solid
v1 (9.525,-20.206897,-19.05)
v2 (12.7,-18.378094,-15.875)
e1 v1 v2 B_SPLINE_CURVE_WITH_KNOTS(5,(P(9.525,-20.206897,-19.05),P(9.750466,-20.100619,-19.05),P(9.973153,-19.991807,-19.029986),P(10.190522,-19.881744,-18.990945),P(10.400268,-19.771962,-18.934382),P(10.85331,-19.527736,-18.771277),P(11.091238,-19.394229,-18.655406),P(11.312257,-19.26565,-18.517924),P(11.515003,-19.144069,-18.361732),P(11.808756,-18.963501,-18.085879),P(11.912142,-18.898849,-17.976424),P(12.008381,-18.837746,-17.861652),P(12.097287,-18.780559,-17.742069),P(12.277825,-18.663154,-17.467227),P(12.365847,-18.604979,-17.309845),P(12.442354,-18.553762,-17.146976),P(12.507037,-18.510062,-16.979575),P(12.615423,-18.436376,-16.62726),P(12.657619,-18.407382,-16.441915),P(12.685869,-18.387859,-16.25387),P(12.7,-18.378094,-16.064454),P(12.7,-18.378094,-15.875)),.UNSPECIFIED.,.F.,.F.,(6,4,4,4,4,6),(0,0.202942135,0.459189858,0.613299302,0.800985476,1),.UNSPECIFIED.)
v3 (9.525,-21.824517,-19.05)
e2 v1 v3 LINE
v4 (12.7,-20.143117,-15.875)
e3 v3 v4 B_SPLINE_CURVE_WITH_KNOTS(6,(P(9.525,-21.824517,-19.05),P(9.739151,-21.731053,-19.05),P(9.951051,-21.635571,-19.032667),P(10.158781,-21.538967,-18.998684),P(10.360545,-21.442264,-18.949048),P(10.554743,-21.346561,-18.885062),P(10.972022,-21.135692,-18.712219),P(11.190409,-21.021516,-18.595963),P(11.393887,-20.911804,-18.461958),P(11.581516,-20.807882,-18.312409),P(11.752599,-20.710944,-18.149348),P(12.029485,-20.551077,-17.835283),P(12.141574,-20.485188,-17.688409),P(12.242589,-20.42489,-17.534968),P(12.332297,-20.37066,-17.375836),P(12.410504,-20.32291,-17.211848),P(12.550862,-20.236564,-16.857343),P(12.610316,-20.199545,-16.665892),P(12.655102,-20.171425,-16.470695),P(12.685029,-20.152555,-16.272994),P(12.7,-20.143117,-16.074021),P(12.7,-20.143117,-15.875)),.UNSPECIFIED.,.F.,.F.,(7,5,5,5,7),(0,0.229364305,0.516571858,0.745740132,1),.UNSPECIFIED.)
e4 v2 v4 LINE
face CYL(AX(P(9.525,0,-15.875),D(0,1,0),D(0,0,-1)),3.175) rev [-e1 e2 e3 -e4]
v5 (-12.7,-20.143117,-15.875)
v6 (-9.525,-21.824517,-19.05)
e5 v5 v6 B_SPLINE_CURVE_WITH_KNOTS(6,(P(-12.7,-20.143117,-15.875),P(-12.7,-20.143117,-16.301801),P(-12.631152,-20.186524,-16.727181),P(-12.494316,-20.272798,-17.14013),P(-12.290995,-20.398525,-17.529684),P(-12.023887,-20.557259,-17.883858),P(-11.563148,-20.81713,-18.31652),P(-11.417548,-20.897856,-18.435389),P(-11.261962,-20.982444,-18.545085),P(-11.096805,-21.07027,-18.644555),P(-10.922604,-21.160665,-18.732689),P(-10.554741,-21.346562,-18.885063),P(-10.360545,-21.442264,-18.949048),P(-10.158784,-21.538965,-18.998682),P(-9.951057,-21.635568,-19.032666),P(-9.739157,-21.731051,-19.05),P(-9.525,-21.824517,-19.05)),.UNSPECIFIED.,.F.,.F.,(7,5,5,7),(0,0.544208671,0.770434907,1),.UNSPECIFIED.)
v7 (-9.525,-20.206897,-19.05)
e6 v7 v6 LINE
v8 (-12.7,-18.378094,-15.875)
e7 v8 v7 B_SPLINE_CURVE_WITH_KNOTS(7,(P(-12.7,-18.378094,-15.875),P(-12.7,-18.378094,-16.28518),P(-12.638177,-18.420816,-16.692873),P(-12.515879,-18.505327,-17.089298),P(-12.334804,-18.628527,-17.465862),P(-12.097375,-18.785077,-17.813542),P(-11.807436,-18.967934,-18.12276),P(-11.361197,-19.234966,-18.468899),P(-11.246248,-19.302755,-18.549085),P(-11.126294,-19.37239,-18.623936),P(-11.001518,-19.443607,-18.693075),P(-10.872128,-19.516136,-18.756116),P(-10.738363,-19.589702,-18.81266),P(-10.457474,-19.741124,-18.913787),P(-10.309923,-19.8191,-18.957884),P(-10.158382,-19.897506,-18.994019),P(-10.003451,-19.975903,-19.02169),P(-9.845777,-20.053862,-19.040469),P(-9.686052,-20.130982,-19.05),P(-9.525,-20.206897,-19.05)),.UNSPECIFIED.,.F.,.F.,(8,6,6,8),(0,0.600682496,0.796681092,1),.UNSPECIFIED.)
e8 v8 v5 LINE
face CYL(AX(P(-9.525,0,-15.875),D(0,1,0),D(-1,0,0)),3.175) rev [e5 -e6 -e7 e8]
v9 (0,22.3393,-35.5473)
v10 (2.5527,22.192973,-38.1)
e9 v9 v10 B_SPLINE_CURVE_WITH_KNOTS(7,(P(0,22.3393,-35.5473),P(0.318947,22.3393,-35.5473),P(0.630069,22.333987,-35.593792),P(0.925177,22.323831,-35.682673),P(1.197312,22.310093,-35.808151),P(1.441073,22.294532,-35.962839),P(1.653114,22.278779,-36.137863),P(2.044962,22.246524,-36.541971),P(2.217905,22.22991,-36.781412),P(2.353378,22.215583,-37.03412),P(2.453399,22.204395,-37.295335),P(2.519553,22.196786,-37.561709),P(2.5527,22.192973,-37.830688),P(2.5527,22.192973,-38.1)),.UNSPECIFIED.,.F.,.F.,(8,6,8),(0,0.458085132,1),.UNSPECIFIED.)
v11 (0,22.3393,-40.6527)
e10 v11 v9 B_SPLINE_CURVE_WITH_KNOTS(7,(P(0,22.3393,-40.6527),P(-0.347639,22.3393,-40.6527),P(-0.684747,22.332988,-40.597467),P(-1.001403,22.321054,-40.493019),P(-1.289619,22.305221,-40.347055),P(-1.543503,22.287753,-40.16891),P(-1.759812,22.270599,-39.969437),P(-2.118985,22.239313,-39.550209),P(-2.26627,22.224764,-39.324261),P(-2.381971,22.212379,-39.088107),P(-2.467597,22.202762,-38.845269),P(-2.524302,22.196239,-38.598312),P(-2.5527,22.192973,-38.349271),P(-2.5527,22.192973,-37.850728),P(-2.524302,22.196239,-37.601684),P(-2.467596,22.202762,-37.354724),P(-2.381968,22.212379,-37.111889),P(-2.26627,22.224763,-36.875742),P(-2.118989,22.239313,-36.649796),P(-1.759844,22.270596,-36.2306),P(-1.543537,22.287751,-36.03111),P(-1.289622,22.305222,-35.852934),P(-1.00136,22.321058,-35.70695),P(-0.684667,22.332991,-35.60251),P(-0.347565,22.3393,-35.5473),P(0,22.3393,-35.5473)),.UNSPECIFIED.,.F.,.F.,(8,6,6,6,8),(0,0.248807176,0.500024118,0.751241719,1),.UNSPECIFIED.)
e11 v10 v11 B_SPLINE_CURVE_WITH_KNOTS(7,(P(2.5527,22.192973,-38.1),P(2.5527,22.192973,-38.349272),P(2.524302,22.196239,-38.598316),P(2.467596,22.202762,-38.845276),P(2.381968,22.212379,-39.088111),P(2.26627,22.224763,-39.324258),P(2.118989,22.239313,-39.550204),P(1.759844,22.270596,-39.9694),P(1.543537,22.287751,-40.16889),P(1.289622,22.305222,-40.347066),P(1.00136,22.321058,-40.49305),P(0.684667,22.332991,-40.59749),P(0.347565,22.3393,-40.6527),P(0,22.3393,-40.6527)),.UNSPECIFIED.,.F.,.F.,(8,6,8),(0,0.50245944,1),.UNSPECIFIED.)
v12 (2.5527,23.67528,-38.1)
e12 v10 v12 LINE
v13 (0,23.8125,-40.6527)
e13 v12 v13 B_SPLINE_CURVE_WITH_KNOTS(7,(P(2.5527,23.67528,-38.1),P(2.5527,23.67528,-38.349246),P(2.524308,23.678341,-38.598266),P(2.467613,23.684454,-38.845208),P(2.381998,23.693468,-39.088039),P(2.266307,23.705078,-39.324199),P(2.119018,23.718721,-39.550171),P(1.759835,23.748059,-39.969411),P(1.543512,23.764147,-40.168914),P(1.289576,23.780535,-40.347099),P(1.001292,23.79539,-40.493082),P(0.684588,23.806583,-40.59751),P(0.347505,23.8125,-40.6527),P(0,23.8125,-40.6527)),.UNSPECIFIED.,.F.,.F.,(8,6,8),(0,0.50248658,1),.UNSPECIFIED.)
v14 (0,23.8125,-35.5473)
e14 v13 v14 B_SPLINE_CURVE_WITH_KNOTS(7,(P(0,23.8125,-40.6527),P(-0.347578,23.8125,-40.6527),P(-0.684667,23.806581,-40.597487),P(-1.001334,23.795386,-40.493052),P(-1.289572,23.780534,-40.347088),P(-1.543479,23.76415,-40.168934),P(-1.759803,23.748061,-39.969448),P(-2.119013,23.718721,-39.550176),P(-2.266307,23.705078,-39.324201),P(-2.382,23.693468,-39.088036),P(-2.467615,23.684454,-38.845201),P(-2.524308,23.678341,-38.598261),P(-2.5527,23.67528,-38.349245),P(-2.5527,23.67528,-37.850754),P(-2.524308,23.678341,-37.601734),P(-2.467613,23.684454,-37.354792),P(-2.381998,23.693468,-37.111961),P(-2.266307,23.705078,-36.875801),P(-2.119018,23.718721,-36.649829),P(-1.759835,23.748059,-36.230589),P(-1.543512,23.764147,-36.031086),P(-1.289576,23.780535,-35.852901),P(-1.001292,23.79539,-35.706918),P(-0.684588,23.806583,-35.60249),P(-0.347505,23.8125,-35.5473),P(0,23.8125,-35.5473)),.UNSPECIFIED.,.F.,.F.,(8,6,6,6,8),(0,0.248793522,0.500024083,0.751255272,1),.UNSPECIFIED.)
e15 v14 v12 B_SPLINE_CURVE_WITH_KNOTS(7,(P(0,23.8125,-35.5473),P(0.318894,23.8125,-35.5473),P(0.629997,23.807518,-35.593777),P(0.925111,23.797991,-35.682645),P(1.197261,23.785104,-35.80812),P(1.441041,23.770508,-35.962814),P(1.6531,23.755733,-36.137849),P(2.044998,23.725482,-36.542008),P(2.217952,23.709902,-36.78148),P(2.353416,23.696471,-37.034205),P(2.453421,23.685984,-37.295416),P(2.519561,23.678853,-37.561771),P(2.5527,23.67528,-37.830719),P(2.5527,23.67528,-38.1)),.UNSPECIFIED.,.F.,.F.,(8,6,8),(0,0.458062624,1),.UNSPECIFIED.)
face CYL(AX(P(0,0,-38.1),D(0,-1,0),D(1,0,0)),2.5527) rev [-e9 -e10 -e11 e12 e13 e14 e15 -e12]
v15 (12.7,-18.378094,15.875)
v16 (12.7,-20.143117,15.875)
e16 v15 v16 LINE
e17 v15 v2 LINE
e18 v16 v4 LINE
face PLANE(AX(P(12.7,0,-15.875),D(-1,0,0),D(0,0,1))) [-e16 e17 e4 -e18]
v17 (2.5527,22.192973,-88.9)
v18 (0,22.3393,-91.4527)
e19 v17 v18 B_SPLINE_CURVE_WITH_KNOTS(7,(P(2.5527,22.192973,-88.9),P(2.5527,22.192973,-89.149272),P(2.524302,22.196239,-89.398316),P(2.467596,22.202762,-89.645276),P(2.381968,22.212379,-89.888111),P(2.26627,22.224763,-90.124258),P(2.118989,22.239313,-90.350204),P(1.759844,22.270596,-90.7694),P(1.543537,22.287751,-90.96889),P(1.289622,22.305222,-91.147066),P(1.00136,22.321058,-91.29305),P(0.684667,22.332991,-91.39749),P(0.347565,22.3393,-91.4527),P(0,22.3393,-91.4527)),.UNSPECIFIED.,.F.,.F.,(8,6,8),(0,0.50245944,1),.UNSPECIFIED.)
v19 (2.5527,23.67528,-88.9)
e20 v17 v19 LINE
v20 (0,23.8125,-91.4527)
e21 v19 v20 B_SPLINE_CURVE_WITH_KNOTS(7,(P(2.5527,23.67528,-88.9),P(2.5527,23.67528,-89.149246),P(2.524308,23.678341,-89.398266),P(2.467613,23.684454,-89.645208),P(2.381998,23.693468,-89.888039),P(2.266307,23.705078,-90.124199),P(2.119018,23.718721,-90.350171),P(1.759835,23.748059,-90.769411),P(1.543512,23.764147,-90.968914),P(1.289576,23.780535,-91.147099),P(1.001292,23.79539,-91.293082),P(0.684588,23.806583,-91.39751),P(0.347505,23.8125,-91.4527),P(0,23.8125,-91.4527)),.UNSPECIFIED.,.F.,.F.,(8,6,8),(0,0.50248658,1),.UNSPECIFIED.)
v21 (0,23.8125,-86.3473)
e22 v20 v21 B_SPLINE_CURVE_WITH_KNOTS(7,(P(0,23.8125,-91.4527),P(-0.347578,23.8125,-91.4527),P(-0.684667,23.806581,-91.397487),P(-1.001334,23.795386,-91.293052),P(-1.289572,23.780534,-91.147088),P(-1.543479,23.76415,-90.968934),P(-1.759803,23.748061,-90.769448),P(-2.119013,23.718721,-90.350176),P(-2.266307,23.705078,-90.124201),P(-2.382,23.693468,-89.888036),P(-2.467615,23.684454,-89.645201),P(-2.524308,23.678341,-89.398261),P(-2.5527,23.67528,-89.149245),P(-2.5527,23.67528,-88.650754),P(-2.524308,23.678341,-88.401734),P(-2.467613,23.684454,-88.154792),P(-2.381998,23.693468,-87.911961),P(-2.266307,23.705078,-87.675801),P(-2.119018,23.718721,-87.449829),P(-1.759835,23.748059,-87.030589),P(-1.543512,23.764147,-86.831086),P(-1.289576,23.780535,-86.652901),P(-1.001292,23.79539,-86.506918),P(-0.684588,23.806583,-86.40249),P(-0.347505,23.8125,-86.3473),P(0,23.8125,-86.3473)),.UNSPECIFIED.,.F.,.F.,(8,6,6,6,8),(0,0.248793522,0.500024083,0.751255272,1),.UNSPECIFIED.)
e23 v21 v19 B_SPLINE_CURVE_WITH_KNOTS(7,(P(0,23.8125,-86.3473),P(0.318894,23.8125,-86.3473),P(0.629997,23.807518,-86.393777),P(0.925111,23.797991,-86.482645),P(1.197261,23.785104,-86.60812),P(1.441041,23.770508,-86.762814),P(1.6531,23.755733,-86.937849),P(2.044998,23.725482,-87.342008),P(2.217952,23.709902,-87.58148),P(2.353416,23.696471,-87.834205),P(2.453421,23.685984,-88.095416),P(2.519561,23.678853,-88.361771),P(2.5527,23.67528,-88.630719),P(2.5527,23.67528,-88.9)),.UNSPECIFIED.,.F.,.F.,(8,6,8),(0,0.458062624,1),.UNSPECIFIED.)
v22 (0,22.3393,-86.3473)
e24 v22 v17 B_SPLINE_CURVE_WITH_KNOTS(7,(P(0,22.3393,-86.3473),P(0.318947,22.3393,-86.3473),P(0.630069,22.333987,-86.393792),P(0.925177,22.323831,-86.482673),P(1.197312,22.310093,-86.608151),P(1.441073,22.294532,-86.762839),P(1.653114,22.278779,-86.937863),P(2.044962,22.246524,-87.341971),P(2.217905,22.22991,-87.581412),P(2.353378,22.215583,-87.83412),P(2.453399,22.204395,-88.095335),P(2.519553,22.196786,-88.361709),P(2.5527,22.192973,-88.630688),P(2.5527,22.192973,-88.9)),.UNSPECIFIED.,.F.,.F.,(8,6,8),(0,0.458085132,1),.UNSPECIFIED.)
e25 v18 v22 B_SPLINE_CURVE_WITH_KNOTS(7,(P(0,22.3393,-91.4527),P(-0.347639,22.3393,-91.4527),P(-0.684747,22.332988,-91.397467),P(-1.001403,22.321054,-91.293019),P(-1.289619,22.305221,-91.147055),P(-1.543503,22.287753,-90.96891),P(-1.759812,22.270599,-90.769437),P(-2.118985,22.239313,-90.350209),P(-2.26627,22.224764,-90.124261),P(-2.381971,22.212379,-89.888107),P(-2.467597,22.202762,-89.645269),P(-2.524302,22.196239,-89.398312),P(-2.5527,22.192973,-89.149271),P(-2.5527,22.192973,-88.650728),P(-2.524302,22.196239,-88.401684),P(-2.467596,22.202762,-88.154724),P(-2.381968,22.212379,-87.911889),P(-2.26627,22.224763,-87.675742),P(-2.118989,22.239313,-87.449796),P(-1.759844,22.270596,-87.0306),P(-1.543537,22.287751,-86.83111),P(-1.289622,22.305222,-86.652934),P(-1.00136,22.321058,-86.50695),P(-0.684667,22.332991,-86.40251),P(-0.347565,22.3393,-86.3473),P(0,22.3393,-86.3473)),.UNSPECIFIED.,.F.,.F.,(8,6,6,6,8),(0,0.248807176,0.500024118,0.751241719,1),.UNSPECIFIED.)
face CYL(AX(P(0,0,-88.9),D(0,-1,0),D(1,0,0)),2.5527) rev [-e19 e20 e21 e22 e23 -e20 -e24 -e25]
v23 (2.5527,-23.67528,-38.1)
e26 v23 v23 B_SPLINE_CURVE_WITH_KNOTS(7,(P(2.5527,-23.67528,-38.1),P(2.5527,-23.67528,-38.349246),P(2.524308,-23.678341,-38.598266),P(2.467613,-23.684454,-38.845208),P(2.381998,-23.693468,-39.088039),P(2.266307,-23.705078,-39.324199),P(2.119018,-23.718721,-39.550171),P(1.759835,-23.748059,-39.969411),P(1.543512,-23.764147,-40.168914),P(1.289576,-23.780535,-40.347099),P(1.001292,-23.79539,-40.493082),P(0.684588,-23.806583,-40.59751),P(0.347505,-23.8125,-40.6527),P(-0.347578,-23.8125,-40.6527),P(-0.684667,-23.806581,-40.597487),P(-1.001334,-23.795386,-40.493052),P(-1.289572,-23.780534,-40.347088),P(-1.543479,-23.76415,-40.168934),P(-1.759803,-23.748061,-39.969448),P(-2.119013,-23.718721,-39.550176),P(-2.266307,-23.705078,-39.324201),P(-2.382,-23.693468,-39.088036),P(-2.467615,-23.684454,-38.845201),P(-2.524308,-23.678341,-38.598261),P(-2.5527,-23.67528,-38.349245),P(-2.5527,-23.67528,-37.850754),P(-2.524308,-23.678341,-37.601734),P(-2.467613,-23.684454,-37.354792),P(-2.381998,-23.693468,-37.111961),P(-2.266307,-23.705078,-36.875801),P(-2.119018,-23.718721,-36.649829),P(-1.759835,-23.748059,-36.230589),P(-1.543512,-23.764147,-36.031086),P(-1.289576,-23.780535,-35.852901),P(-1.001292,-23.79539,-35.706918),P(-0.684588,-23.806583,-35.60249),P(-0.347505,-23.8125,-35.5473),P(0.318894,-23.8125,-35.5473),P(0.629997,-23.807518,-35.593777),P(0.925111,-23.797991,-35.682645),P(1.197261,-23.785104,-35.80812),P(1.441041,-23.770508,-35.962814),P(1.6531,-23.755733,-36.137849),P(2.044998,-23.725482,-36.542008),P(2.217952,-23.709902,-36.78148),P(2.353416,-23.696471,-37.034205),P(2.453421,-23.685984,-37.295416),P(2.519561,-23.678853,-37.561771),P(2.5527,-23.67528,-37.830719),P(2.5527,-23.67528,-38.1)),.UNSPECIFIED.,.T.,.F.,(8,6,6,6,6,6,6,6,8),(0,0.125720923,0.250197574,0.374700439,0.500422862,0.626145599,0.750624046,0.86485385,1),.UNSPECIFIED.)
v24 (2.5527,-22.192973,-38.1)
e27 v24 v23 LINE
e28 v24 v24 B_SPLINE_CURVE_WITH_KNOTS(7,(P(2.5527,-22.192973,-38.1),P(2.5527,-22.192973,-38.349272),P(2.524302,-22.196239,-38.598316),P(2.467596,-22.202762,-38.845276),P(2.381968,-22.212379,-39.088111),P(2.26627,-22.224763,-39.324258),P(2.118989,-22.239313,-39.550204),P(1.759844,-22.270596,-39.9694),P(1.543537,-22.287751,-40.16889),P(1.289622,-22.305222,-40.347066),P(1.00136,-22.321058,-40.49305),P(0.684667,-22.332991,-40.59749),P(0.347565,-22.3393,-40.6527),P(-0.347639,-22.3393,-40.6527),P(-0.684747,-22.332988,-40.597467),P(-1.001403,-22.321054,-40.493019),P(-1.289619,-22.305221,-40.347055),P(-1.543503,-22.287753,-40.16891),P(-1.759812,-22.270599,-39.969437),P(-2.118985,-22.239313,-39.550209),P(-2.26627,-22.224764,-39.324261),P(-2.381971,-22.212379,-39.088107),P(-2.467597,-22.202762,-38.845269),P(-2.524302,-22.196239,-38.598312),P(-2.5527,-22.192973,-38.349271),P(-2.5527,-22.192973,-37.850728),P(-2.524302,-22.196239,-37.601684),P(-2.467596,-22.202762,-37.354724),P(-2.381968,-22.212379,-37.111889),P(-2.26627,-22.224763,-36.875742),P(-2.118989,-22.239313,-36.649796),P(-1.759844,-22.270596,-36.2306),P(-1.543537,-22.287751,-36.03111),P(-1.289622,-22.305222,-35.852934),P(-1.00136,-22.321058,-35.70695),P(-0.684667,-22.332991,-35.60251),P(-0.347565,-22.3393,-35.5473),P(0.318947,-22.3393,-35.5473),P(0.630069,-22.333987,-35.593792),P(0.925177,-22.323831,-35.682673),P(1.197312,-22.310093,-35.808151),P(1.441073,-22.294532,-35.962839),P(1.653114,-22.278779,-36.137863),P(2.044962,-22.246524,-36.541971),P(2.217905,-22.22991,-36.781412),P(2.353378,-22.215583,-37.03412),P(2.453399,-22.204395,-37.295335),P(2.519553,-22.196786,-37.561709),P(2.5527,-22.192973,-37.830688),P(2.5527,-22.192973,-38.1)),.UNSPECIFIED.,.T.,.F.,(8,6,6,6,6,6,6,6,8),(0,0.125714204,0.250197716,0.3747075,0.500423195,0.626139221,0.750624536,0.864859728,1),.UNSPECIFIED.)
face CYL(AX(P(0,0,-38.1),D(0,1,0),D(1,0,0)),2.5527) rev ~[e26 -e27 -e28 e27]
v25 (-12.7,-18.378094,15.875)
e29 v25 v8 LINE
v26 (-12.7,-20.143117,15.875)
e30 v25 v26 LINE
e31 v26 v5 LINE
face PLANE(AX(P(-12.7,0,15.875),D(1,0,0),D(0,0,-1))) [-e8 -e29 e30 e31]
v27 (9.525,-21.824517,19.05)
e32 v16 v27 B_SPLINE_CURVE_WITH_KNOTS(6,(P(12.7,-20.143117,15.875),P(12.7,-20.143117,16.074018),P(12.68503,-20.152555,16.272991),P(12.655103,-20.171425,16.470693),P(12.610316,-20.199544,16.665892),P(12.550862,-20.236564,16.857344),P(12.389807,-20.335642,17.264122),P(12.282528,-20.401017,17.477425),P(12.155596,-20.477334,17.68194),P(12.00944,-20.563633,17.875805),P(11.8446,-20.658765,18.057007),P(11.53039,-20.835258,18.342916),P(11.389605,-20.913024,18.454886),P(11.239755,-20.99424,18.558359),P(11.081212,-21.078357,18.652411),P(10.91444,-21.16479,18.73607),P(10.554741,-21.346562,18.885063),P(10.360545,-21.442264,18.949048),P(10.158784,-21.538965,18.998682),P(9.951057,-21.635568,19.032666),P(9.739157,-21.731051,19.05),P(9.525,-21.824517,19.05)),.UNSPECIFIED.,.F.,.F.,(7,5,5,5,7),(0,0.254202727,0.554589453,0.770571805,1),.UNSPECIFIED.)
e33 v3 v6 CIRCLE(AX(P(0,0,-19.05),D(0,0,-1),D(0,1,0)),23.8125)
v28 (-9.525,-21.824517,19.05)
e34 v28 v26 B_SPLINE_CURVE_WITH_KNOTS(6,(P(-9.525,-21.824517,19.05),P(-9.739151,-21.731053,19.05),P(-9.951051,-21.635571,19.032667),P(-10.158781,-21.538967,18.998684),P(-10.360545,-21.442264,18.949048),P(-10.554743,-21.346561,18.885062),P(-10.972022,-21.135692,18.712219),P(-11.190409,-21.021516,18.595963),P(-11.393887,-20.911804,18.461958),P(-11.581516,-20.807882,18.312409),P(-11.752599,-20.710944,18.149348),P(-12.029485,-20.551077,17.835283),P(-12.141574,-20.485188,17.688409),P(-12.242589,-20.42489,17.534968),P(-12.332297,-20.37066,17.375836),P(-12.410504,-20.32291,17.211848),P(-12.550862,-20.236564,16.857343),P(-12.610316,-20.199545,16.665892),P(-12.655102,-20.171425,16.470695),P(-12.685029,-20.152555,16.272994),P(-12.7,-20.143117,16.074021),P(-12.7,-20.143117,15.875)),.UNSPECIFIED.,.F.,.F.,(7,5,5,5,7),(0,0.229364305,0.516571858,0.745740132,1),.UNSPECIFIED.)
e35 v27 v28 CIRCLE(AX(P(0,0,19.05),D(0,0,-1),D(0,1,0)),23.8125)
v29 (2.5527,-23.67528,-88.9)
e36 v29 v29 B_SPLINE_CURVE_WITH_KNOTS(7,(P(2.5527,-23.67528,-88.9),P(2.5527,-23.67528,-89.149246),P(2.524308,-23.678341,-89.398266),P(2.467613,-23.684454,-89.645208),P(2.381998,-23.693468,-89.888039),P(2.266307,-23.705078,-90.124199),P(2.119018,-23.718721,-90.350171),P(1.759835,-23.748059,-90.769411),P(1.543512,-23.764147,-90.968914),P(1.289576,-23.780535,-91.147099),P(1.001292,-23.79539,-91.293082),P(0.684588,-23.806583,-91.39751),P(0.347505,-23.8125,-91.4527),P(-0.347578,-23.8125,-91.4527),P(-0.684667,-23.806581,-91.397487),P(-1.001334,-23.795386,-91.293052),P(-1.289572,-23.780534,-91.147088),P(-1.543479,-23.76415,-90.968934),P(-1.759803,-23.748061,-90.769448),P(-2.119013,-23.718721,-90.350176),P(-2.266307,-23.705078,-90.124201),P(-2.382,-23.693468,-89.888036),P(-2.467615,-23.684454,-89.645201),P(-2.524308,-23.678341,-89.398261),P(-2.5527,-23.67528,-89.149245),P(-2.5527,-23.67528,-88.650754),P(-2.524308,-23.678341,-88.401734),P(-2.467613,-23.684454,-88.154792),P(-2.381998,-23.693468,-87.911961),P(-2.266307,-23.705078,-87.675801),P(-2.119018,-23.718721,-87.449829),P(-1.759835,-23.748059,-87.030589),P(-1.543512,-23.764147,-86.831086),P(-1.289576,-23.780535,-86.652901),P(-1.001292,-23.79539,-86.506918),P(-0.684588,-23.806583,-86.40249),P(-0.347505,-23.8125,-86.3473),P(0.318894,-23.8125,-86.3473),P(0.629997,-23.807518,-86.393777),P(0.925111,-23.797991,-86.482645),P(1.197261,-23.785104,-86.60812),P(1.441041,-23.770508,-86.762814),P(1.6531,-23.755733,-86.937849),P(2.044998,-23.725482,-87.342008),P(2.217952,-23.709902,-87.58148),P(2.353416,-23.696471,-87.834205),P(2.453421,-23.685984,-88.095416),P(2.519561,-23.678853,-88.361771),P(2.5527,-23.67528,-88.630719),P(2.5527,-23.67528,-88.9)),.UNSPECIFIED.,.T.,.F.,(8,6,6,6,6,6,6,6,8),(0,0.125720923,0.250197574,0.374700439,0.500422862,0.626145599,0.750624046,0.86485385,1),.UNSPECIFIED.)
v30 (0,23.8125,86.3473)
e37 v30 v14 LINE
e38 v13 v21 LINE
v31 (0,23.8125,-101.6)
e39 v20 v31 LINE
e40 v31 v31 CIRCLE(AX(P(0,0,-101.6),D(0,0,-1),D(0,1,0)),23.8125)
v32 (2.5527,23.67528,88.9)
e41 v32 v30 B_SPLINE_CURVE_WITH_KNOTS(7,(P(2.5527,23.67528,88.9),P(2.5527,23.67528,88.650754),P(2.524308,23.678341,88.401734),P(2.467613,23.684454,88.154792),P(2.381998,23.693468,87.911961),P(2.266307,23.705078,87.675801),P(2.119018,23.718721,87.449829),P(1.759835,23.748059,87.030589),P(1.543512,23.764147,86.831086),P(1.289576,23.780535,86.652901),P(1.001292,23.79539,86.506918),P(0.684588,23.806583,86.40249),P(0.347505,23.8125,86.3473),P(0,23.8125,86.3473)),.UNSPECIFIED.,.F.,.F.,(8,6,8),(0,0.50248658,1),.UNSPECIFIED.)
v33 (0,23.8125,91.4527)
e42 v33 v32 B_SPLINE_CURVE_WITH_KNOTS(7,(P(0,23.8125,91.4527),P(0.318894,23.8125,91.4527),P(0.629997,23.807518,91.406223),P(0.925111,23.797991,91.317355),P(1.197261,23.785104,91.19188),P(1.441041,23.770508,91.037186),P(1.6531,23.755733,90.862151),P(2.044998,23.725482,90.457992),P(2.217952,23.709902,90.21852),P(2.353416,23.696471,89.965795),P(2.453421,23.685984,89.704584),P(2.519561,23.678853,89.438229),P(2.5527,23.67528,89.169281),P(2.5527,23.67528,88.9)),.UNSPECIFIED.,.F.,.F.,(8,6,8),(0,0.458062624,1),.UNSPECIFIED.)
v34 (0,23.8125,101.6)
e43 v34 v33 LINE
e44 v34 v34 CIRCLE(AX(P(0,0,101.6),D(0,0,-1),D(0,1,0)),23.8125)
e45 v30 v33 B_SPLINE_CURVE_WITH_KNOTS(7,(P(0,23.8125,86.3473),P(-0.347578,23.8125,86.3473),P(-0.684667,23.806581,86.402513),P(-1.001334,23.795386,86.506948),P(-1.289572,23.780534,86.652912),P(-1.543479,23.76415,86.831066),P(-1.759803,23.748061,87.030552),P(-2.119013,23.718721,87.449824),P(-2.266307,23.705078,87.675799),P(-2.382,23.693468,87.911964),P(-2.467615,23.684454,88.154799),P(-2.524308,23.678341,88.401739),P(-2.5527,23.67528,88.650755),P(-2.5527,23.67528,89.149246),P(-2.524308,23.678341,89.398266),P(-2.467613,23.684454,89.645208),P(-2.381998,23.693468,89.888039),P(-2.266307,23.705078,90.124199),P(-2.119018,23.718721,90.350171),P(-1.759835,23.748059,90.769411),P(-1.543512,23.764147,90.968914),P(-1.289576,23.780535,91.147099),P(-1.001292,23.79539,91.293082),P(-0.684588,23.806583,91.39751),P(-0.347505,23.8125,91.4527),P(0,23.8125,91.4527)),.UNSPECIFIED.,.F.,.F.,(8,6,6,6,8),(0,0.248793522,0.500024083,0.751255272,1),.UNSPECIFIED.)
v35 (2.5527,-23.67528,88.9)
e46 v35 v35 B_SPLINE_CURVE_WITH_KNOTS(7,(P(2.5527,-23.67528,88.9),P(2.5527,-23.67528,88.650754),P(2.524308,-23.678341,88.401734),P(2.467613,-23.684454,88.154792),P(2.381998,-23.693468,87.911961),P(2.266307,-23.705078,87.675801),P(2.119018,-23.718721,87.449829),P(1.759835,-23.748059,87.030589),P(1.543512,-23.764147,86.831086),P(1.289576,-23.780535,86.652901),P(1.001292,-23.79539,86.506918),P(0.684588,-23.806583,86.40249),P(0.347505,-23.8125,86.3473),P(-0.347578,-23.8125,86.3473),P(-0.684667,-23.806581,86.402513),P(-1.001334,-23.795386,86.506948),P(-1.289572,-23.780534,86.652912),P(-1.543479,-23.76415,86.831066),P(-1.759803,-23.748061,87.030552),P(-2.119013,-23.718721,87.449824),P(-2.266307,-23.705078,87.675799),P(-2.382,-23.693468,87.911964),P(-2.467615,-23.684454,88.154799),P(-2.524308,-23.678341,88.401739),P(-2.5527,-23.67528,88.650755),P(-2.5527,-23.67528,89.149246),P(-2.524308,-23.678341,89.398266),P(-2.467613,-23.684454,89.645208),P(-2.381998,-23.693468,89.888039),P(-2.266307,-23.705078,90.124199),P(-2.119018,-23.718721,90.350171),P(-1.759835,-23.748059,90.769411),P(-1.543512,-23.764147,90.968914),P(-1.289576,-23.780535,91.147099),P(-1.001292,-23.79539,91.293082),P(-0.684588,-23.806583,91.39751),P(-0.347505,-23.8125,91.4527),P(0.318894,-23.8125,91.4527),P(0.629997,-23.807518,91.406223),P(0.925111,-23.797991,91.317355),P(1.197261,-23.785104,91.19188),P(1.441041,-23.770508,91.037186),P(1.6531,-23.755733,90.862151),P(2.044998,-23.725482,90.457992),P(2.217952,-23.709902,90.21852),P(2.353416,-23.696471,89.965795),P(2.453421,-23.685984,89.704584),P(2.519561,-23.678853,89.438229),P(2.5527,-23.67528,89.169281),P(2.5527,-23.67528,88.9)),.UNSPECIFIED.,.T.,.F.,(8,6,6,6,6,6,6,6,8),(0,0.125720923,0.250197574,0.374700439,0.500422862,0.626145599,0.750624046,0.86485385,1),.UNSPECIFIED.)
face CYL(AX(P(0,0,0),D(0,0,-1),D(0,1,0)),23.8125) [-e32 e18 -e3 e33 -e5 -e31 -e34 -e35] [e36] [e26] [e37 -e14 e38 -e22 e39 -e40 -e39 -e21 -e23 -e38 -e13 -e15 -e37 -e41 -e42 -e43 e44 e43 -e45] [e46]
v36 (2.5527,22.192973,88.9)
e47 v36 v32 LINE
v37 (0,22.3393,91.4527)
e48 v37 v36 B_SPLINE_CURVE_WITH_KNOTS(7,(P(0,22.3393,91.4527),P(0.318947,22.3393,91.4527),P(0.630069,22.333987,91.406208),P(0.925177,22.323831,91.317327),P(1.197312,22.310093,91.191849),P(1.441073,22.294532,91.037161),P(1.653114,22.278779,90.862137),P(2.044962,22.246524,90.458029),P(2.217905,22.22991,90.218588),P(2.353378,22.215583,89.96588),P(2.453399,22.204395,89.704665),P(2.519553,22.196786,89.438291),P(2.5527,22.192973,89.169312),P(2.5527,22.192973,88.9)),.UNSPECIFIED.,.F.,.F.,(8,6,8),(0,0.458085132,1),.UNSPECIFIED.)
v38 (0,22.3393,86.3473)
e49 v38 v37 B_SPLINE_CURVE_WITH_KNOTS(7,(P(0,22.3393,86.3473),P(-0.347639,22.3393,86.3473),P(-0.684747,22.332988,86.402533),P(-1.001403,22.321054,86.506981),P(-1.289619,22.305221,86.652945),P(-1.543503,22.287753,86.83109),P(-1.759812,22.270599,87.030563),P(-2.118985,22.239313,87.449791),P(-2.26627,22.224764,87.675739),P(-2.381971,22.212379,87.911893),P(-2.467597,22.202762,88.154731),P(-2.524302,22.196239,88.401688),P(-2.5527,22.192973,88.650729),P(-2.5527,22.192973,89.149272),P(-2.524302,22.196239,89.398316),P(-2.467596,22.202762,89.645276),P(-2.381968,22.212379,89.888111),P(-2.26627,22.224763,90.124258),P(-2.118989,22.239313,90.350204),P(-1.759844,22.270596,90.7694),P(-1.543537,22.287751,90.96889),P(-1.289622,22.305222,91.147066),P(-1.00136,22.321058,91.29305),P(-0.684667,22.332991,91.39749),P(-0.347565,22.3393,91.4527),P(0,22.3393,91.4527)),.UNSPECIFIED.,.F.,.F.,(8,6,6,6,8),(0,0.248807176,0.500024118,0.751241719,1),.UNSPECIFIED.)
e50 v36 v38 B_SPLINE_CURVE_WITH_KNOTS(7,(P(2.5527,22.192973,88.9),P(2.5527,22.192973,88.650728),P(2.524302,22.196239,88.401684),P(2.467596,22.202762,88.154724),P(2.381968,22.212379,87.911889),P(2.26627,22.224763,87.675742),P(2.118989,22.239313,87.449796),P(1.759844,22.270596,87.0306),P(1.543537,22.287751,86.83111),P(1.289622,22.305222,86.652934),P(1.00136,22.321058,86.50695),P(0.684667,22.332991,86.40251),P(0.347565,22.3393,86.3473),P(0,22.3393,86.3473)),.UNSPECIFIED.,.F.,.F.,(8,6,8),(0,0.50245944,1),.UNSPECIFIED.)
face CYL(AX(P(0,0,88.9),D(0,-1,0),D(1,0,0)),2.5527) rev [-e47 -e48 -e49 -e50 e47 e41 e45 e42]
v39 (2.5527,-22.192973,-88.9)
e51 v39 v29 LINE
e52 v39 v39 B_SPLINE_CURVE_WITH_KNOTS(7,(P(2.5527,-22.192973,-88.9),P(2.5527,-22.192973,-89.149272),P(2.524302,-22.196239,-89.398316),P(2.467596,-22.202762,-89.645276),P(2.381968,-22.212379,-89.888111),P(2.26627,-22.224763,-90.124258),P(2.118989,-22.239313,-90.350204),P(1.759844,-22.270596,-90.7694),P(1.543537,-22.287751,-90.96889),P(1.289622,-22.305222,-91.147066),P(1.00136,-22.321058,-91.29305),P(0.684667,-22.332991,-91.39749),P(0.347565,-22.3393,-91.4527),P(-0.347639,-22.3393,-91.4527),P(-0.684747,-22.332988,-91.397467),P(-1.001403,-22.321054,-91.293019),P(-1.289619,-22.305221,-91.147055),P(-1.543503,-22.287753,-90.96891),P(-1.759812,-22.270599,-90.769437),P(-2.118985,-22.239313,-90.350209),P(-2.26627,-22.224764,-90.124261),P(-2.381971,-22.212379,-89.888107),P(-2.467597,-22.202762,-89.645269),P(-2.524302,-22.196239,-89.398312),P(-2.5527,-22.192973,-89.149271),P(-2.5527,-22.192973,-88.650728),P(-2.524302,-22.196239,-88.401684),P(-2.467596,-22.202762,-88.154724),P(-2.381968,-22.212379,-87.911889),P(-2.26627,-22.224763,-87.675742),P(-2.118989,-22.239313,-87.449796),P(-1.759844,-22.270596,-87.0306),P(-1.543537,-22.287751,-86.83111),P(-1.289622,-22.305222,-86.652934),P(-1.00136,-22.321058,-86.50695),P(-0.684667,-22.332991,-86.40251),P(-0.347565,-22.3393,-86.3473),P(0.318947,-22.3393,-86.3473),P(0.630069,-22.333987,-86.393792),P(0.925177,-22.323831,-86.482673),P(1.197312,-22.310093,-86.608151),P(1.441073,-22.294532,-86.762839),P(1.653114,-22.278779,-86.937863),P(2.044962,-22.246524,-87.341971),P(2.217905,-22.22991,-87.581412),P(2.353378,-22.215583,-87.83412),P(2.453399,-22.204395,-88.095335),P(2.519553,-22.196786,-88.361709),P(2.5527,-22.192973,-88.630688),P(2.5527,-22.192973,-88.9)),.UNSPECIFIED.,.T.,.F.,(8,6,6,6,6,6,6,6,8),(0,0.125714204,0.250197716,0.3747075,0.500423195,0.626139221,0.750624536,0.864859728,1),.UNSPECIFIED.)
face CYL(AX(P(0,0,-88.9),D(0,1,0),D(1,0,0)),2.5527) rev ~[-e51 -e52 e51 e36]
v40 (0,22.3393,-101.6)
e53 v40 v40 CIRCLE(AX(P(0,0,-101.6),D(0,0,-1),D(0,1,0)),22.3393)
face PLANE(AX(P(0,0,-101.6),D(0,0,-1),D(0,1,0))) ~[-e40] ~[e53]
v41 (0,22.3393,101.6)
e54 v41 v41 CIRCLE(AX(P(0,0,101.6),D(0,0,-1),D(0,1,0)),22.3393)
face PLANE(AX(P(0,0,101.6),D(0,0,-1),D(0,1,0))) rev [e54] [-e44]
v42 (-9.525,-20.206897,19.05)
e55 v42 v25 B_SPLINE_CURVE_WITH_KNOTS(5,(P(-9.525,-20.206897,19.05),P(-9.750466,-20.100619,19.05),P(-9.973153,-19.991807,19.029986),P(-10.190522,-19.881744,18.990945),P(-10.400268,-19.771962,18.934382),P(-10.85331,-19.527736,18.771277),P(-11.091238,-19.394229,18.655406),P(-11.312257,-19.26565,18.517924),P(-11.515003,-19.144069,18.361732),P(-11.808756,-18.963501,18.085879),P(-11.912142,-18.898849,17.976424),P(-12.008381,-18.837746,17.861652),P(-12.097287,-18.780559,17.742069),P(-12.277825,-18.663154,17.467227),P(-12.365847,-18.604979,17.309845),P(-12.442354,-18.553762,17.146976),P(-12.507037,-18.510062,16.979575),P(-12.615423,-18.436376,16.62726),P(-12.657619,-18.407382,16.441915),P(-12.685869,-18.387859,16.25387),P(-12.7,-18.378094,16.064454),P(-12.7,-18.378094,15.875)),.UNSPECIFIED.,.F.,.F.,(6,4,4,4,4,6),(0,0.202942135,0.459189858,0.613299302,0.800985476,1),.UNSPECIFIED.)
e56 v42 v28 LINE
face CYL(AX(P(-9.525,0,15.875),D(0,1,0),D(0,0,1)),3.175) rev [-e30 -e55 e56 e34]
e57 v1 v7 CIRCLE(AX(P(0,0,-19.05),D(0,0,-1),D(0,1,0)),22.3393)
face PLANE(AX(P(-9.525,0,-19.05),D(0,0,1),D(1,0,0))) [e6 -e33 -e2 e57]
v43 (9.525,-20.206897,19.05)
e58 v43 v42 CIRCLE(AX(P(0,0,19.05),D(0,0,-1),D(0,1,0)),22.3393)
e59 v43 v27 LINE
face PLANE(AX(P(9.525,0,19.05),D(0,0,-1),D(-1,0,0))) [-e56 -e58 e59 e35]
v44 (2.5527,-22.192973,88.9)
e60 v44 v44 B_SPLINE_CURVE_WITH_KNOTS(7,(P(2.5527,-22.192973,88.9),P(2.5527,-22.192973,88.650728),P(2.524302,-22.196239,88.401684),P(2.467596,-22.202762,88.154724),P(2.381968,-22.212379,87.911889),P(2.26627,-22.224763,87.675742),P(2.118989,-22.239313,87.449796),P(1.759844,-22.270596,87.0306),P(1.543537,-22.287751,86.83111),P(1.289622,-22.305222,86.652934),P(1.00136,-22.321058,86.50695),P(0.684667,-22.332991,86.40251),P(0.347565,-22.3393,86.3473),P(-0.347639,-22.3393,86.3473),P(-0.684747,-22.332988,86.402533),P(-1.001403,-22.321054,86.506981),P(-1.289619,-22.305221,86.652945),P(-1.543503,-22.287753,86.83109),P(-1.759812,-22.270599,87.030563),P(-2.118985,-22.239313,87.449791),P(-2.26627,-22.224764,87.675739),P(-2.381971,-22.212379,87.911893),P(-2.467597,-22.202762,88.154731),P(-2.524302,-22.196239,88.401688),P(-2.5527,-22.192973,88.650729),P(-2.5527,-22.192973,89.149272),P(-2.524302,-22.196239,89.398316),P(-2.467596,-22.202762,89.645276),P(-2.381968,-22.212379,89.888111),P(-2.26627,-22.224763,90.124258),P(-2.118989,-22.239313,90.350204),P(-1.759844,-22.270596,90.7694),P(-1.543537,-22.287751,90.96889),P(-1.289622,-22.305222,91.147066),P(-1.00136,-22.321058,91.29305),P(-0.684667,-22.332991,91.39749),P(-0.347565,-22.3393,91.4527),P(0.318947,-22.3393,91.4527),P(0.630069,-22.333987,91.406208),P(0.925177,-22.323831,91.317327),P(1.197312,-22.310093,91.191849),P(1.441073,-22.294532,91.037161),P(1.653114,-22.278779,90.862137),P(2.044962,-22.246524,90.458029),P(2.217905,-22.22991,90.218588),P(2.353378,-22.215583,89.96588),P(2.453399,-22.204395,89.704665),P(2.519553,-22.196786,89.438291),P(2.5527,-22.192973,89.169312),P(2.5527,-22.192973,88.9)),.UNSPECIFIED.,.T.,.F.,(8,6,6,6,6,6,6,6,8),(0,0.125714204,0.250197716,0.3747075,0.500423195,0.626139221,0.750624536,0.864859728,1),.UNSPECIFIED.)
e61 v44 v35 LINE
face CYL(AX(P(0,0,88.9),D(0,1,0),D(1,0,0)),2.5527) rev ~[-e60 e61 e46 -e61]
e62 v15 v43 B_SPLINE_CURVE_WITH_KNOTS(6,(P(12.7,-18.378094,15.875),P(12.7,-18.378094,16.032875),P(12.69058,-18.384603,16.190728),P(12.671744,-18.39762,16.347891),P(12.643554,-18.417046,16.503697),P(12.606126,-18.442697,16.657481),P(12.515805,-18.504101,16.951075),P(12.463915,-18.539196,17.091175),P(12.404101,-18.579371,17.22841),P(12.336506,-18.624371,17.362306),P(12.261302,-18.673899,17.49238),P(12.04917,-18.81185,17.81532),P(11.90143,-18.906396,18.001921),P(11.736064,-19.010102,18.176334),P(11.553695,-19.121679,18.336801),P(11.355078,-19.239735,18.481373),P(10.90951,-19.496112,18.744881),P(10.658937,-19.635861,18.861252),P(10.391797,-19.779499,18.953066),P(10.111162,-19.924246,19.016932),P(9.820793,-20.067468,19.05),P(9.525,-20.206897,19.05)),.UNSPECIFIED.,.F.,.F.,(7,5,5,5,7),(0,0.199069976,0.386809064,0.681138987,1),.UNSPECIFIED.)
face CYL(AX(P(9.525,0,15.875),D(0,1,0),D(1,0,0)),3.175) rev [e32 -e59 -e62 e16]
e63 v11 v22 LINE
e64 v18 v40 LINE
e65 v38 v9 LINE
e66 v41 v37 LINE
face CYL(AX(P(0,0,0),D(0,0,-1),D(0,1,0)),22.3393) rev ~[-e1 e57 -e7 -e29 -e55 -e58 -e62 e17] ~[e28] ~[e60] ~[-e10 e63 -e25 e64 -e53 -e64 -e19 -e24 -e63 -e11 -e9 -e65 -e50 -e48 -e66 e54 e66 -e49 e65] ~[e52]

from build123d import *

# Parameters (mm, degrees)
SKETCH3_W               = 203.2
SKETCH3_H               = 1.4732
SKETCH4_R               = 2.5527
CUT_EXTRUDE1_DEPTH      = 24.8125
CUT_EXTRUDE1_DEPTH_BACK = 24.8125
CUT_EXTRUDE2_DEPTH      = 24.8125001


with BuildPart() as part:
    # Sketch3 → Revolve1 (revolve)
    with BuildSketch(Plane(origin=(0, 0, 0), x_dir=(0, 0, -1), z_dir=(1, 0, 0))):
        with Locations((0, 23.0759)):
            Rectangle(SKETCH3_W, SKETCH3_H)
    revolve(axis=Axis((0, 0, 101.6), (0, 0, -1)))

    # Sketch4 → Cut-Extrude1 (cut, two sides)
    with BuildSketch(Plane(origin=(0, 0, 0), x_dir=(1, 0, 0), z_dir=(0, 1, 0))) as cut_extrude1_sk:
        with Locations((0, 88.9)):
            Circle(SKETCH4_R)
        with Locations((0, 38.1)):
            Circle(SKETCH4_R)
        with Locations((0, -88.9)):
            Circle(SKETCH4_R)
    extrude(amount=CUT_EXTRUDE1_DEPTH, mode=Mode.SUBTRACT)
    extrude(cut_extrude1_sk.sketch, amount=-CUT_EXTRUDE1_DEPTH_BACK, mode=Mode.SUBTRACT)

    # Sketch5 → Cut-Extrude2 (cut, through all)
    with BuildSketch(Plane(origin=(0, 0, 0), x_dir=(1, 0, 0), z_dir=(0, 1, 0))):
        with BuildLine():
            Line((9.525, -19.05), (-9.525, -19.05))
            ThreePointArc((-9.525, -19.05), (-11.77006403, -18.12006403), (-12.7, -15.875))
            Line((-12.7, -15.875), (-12.7, 15.875))
            ThreePointArc((-12.7, 15.875), (-11.77006403, 18.12006403), (-9.525, 19.05))
            Line((-9.525, 19.05), (9.525, 19.05))
            ThreePointArc((9.525, 19.05), (11.77006403, 18.12006403), (12.7, 15.875))
            Line((12.7, 15.875), (12.7, -15.875))
            ThreePointArc((12.7, -15.875), (11.77006403, -18.12006403), (9.525, -19.05))
        make_face()
    extrude(amount=-CUT_EXTRUDE2_DEPTH, mode=Mode.SUBTRACT)


solid = part.part
